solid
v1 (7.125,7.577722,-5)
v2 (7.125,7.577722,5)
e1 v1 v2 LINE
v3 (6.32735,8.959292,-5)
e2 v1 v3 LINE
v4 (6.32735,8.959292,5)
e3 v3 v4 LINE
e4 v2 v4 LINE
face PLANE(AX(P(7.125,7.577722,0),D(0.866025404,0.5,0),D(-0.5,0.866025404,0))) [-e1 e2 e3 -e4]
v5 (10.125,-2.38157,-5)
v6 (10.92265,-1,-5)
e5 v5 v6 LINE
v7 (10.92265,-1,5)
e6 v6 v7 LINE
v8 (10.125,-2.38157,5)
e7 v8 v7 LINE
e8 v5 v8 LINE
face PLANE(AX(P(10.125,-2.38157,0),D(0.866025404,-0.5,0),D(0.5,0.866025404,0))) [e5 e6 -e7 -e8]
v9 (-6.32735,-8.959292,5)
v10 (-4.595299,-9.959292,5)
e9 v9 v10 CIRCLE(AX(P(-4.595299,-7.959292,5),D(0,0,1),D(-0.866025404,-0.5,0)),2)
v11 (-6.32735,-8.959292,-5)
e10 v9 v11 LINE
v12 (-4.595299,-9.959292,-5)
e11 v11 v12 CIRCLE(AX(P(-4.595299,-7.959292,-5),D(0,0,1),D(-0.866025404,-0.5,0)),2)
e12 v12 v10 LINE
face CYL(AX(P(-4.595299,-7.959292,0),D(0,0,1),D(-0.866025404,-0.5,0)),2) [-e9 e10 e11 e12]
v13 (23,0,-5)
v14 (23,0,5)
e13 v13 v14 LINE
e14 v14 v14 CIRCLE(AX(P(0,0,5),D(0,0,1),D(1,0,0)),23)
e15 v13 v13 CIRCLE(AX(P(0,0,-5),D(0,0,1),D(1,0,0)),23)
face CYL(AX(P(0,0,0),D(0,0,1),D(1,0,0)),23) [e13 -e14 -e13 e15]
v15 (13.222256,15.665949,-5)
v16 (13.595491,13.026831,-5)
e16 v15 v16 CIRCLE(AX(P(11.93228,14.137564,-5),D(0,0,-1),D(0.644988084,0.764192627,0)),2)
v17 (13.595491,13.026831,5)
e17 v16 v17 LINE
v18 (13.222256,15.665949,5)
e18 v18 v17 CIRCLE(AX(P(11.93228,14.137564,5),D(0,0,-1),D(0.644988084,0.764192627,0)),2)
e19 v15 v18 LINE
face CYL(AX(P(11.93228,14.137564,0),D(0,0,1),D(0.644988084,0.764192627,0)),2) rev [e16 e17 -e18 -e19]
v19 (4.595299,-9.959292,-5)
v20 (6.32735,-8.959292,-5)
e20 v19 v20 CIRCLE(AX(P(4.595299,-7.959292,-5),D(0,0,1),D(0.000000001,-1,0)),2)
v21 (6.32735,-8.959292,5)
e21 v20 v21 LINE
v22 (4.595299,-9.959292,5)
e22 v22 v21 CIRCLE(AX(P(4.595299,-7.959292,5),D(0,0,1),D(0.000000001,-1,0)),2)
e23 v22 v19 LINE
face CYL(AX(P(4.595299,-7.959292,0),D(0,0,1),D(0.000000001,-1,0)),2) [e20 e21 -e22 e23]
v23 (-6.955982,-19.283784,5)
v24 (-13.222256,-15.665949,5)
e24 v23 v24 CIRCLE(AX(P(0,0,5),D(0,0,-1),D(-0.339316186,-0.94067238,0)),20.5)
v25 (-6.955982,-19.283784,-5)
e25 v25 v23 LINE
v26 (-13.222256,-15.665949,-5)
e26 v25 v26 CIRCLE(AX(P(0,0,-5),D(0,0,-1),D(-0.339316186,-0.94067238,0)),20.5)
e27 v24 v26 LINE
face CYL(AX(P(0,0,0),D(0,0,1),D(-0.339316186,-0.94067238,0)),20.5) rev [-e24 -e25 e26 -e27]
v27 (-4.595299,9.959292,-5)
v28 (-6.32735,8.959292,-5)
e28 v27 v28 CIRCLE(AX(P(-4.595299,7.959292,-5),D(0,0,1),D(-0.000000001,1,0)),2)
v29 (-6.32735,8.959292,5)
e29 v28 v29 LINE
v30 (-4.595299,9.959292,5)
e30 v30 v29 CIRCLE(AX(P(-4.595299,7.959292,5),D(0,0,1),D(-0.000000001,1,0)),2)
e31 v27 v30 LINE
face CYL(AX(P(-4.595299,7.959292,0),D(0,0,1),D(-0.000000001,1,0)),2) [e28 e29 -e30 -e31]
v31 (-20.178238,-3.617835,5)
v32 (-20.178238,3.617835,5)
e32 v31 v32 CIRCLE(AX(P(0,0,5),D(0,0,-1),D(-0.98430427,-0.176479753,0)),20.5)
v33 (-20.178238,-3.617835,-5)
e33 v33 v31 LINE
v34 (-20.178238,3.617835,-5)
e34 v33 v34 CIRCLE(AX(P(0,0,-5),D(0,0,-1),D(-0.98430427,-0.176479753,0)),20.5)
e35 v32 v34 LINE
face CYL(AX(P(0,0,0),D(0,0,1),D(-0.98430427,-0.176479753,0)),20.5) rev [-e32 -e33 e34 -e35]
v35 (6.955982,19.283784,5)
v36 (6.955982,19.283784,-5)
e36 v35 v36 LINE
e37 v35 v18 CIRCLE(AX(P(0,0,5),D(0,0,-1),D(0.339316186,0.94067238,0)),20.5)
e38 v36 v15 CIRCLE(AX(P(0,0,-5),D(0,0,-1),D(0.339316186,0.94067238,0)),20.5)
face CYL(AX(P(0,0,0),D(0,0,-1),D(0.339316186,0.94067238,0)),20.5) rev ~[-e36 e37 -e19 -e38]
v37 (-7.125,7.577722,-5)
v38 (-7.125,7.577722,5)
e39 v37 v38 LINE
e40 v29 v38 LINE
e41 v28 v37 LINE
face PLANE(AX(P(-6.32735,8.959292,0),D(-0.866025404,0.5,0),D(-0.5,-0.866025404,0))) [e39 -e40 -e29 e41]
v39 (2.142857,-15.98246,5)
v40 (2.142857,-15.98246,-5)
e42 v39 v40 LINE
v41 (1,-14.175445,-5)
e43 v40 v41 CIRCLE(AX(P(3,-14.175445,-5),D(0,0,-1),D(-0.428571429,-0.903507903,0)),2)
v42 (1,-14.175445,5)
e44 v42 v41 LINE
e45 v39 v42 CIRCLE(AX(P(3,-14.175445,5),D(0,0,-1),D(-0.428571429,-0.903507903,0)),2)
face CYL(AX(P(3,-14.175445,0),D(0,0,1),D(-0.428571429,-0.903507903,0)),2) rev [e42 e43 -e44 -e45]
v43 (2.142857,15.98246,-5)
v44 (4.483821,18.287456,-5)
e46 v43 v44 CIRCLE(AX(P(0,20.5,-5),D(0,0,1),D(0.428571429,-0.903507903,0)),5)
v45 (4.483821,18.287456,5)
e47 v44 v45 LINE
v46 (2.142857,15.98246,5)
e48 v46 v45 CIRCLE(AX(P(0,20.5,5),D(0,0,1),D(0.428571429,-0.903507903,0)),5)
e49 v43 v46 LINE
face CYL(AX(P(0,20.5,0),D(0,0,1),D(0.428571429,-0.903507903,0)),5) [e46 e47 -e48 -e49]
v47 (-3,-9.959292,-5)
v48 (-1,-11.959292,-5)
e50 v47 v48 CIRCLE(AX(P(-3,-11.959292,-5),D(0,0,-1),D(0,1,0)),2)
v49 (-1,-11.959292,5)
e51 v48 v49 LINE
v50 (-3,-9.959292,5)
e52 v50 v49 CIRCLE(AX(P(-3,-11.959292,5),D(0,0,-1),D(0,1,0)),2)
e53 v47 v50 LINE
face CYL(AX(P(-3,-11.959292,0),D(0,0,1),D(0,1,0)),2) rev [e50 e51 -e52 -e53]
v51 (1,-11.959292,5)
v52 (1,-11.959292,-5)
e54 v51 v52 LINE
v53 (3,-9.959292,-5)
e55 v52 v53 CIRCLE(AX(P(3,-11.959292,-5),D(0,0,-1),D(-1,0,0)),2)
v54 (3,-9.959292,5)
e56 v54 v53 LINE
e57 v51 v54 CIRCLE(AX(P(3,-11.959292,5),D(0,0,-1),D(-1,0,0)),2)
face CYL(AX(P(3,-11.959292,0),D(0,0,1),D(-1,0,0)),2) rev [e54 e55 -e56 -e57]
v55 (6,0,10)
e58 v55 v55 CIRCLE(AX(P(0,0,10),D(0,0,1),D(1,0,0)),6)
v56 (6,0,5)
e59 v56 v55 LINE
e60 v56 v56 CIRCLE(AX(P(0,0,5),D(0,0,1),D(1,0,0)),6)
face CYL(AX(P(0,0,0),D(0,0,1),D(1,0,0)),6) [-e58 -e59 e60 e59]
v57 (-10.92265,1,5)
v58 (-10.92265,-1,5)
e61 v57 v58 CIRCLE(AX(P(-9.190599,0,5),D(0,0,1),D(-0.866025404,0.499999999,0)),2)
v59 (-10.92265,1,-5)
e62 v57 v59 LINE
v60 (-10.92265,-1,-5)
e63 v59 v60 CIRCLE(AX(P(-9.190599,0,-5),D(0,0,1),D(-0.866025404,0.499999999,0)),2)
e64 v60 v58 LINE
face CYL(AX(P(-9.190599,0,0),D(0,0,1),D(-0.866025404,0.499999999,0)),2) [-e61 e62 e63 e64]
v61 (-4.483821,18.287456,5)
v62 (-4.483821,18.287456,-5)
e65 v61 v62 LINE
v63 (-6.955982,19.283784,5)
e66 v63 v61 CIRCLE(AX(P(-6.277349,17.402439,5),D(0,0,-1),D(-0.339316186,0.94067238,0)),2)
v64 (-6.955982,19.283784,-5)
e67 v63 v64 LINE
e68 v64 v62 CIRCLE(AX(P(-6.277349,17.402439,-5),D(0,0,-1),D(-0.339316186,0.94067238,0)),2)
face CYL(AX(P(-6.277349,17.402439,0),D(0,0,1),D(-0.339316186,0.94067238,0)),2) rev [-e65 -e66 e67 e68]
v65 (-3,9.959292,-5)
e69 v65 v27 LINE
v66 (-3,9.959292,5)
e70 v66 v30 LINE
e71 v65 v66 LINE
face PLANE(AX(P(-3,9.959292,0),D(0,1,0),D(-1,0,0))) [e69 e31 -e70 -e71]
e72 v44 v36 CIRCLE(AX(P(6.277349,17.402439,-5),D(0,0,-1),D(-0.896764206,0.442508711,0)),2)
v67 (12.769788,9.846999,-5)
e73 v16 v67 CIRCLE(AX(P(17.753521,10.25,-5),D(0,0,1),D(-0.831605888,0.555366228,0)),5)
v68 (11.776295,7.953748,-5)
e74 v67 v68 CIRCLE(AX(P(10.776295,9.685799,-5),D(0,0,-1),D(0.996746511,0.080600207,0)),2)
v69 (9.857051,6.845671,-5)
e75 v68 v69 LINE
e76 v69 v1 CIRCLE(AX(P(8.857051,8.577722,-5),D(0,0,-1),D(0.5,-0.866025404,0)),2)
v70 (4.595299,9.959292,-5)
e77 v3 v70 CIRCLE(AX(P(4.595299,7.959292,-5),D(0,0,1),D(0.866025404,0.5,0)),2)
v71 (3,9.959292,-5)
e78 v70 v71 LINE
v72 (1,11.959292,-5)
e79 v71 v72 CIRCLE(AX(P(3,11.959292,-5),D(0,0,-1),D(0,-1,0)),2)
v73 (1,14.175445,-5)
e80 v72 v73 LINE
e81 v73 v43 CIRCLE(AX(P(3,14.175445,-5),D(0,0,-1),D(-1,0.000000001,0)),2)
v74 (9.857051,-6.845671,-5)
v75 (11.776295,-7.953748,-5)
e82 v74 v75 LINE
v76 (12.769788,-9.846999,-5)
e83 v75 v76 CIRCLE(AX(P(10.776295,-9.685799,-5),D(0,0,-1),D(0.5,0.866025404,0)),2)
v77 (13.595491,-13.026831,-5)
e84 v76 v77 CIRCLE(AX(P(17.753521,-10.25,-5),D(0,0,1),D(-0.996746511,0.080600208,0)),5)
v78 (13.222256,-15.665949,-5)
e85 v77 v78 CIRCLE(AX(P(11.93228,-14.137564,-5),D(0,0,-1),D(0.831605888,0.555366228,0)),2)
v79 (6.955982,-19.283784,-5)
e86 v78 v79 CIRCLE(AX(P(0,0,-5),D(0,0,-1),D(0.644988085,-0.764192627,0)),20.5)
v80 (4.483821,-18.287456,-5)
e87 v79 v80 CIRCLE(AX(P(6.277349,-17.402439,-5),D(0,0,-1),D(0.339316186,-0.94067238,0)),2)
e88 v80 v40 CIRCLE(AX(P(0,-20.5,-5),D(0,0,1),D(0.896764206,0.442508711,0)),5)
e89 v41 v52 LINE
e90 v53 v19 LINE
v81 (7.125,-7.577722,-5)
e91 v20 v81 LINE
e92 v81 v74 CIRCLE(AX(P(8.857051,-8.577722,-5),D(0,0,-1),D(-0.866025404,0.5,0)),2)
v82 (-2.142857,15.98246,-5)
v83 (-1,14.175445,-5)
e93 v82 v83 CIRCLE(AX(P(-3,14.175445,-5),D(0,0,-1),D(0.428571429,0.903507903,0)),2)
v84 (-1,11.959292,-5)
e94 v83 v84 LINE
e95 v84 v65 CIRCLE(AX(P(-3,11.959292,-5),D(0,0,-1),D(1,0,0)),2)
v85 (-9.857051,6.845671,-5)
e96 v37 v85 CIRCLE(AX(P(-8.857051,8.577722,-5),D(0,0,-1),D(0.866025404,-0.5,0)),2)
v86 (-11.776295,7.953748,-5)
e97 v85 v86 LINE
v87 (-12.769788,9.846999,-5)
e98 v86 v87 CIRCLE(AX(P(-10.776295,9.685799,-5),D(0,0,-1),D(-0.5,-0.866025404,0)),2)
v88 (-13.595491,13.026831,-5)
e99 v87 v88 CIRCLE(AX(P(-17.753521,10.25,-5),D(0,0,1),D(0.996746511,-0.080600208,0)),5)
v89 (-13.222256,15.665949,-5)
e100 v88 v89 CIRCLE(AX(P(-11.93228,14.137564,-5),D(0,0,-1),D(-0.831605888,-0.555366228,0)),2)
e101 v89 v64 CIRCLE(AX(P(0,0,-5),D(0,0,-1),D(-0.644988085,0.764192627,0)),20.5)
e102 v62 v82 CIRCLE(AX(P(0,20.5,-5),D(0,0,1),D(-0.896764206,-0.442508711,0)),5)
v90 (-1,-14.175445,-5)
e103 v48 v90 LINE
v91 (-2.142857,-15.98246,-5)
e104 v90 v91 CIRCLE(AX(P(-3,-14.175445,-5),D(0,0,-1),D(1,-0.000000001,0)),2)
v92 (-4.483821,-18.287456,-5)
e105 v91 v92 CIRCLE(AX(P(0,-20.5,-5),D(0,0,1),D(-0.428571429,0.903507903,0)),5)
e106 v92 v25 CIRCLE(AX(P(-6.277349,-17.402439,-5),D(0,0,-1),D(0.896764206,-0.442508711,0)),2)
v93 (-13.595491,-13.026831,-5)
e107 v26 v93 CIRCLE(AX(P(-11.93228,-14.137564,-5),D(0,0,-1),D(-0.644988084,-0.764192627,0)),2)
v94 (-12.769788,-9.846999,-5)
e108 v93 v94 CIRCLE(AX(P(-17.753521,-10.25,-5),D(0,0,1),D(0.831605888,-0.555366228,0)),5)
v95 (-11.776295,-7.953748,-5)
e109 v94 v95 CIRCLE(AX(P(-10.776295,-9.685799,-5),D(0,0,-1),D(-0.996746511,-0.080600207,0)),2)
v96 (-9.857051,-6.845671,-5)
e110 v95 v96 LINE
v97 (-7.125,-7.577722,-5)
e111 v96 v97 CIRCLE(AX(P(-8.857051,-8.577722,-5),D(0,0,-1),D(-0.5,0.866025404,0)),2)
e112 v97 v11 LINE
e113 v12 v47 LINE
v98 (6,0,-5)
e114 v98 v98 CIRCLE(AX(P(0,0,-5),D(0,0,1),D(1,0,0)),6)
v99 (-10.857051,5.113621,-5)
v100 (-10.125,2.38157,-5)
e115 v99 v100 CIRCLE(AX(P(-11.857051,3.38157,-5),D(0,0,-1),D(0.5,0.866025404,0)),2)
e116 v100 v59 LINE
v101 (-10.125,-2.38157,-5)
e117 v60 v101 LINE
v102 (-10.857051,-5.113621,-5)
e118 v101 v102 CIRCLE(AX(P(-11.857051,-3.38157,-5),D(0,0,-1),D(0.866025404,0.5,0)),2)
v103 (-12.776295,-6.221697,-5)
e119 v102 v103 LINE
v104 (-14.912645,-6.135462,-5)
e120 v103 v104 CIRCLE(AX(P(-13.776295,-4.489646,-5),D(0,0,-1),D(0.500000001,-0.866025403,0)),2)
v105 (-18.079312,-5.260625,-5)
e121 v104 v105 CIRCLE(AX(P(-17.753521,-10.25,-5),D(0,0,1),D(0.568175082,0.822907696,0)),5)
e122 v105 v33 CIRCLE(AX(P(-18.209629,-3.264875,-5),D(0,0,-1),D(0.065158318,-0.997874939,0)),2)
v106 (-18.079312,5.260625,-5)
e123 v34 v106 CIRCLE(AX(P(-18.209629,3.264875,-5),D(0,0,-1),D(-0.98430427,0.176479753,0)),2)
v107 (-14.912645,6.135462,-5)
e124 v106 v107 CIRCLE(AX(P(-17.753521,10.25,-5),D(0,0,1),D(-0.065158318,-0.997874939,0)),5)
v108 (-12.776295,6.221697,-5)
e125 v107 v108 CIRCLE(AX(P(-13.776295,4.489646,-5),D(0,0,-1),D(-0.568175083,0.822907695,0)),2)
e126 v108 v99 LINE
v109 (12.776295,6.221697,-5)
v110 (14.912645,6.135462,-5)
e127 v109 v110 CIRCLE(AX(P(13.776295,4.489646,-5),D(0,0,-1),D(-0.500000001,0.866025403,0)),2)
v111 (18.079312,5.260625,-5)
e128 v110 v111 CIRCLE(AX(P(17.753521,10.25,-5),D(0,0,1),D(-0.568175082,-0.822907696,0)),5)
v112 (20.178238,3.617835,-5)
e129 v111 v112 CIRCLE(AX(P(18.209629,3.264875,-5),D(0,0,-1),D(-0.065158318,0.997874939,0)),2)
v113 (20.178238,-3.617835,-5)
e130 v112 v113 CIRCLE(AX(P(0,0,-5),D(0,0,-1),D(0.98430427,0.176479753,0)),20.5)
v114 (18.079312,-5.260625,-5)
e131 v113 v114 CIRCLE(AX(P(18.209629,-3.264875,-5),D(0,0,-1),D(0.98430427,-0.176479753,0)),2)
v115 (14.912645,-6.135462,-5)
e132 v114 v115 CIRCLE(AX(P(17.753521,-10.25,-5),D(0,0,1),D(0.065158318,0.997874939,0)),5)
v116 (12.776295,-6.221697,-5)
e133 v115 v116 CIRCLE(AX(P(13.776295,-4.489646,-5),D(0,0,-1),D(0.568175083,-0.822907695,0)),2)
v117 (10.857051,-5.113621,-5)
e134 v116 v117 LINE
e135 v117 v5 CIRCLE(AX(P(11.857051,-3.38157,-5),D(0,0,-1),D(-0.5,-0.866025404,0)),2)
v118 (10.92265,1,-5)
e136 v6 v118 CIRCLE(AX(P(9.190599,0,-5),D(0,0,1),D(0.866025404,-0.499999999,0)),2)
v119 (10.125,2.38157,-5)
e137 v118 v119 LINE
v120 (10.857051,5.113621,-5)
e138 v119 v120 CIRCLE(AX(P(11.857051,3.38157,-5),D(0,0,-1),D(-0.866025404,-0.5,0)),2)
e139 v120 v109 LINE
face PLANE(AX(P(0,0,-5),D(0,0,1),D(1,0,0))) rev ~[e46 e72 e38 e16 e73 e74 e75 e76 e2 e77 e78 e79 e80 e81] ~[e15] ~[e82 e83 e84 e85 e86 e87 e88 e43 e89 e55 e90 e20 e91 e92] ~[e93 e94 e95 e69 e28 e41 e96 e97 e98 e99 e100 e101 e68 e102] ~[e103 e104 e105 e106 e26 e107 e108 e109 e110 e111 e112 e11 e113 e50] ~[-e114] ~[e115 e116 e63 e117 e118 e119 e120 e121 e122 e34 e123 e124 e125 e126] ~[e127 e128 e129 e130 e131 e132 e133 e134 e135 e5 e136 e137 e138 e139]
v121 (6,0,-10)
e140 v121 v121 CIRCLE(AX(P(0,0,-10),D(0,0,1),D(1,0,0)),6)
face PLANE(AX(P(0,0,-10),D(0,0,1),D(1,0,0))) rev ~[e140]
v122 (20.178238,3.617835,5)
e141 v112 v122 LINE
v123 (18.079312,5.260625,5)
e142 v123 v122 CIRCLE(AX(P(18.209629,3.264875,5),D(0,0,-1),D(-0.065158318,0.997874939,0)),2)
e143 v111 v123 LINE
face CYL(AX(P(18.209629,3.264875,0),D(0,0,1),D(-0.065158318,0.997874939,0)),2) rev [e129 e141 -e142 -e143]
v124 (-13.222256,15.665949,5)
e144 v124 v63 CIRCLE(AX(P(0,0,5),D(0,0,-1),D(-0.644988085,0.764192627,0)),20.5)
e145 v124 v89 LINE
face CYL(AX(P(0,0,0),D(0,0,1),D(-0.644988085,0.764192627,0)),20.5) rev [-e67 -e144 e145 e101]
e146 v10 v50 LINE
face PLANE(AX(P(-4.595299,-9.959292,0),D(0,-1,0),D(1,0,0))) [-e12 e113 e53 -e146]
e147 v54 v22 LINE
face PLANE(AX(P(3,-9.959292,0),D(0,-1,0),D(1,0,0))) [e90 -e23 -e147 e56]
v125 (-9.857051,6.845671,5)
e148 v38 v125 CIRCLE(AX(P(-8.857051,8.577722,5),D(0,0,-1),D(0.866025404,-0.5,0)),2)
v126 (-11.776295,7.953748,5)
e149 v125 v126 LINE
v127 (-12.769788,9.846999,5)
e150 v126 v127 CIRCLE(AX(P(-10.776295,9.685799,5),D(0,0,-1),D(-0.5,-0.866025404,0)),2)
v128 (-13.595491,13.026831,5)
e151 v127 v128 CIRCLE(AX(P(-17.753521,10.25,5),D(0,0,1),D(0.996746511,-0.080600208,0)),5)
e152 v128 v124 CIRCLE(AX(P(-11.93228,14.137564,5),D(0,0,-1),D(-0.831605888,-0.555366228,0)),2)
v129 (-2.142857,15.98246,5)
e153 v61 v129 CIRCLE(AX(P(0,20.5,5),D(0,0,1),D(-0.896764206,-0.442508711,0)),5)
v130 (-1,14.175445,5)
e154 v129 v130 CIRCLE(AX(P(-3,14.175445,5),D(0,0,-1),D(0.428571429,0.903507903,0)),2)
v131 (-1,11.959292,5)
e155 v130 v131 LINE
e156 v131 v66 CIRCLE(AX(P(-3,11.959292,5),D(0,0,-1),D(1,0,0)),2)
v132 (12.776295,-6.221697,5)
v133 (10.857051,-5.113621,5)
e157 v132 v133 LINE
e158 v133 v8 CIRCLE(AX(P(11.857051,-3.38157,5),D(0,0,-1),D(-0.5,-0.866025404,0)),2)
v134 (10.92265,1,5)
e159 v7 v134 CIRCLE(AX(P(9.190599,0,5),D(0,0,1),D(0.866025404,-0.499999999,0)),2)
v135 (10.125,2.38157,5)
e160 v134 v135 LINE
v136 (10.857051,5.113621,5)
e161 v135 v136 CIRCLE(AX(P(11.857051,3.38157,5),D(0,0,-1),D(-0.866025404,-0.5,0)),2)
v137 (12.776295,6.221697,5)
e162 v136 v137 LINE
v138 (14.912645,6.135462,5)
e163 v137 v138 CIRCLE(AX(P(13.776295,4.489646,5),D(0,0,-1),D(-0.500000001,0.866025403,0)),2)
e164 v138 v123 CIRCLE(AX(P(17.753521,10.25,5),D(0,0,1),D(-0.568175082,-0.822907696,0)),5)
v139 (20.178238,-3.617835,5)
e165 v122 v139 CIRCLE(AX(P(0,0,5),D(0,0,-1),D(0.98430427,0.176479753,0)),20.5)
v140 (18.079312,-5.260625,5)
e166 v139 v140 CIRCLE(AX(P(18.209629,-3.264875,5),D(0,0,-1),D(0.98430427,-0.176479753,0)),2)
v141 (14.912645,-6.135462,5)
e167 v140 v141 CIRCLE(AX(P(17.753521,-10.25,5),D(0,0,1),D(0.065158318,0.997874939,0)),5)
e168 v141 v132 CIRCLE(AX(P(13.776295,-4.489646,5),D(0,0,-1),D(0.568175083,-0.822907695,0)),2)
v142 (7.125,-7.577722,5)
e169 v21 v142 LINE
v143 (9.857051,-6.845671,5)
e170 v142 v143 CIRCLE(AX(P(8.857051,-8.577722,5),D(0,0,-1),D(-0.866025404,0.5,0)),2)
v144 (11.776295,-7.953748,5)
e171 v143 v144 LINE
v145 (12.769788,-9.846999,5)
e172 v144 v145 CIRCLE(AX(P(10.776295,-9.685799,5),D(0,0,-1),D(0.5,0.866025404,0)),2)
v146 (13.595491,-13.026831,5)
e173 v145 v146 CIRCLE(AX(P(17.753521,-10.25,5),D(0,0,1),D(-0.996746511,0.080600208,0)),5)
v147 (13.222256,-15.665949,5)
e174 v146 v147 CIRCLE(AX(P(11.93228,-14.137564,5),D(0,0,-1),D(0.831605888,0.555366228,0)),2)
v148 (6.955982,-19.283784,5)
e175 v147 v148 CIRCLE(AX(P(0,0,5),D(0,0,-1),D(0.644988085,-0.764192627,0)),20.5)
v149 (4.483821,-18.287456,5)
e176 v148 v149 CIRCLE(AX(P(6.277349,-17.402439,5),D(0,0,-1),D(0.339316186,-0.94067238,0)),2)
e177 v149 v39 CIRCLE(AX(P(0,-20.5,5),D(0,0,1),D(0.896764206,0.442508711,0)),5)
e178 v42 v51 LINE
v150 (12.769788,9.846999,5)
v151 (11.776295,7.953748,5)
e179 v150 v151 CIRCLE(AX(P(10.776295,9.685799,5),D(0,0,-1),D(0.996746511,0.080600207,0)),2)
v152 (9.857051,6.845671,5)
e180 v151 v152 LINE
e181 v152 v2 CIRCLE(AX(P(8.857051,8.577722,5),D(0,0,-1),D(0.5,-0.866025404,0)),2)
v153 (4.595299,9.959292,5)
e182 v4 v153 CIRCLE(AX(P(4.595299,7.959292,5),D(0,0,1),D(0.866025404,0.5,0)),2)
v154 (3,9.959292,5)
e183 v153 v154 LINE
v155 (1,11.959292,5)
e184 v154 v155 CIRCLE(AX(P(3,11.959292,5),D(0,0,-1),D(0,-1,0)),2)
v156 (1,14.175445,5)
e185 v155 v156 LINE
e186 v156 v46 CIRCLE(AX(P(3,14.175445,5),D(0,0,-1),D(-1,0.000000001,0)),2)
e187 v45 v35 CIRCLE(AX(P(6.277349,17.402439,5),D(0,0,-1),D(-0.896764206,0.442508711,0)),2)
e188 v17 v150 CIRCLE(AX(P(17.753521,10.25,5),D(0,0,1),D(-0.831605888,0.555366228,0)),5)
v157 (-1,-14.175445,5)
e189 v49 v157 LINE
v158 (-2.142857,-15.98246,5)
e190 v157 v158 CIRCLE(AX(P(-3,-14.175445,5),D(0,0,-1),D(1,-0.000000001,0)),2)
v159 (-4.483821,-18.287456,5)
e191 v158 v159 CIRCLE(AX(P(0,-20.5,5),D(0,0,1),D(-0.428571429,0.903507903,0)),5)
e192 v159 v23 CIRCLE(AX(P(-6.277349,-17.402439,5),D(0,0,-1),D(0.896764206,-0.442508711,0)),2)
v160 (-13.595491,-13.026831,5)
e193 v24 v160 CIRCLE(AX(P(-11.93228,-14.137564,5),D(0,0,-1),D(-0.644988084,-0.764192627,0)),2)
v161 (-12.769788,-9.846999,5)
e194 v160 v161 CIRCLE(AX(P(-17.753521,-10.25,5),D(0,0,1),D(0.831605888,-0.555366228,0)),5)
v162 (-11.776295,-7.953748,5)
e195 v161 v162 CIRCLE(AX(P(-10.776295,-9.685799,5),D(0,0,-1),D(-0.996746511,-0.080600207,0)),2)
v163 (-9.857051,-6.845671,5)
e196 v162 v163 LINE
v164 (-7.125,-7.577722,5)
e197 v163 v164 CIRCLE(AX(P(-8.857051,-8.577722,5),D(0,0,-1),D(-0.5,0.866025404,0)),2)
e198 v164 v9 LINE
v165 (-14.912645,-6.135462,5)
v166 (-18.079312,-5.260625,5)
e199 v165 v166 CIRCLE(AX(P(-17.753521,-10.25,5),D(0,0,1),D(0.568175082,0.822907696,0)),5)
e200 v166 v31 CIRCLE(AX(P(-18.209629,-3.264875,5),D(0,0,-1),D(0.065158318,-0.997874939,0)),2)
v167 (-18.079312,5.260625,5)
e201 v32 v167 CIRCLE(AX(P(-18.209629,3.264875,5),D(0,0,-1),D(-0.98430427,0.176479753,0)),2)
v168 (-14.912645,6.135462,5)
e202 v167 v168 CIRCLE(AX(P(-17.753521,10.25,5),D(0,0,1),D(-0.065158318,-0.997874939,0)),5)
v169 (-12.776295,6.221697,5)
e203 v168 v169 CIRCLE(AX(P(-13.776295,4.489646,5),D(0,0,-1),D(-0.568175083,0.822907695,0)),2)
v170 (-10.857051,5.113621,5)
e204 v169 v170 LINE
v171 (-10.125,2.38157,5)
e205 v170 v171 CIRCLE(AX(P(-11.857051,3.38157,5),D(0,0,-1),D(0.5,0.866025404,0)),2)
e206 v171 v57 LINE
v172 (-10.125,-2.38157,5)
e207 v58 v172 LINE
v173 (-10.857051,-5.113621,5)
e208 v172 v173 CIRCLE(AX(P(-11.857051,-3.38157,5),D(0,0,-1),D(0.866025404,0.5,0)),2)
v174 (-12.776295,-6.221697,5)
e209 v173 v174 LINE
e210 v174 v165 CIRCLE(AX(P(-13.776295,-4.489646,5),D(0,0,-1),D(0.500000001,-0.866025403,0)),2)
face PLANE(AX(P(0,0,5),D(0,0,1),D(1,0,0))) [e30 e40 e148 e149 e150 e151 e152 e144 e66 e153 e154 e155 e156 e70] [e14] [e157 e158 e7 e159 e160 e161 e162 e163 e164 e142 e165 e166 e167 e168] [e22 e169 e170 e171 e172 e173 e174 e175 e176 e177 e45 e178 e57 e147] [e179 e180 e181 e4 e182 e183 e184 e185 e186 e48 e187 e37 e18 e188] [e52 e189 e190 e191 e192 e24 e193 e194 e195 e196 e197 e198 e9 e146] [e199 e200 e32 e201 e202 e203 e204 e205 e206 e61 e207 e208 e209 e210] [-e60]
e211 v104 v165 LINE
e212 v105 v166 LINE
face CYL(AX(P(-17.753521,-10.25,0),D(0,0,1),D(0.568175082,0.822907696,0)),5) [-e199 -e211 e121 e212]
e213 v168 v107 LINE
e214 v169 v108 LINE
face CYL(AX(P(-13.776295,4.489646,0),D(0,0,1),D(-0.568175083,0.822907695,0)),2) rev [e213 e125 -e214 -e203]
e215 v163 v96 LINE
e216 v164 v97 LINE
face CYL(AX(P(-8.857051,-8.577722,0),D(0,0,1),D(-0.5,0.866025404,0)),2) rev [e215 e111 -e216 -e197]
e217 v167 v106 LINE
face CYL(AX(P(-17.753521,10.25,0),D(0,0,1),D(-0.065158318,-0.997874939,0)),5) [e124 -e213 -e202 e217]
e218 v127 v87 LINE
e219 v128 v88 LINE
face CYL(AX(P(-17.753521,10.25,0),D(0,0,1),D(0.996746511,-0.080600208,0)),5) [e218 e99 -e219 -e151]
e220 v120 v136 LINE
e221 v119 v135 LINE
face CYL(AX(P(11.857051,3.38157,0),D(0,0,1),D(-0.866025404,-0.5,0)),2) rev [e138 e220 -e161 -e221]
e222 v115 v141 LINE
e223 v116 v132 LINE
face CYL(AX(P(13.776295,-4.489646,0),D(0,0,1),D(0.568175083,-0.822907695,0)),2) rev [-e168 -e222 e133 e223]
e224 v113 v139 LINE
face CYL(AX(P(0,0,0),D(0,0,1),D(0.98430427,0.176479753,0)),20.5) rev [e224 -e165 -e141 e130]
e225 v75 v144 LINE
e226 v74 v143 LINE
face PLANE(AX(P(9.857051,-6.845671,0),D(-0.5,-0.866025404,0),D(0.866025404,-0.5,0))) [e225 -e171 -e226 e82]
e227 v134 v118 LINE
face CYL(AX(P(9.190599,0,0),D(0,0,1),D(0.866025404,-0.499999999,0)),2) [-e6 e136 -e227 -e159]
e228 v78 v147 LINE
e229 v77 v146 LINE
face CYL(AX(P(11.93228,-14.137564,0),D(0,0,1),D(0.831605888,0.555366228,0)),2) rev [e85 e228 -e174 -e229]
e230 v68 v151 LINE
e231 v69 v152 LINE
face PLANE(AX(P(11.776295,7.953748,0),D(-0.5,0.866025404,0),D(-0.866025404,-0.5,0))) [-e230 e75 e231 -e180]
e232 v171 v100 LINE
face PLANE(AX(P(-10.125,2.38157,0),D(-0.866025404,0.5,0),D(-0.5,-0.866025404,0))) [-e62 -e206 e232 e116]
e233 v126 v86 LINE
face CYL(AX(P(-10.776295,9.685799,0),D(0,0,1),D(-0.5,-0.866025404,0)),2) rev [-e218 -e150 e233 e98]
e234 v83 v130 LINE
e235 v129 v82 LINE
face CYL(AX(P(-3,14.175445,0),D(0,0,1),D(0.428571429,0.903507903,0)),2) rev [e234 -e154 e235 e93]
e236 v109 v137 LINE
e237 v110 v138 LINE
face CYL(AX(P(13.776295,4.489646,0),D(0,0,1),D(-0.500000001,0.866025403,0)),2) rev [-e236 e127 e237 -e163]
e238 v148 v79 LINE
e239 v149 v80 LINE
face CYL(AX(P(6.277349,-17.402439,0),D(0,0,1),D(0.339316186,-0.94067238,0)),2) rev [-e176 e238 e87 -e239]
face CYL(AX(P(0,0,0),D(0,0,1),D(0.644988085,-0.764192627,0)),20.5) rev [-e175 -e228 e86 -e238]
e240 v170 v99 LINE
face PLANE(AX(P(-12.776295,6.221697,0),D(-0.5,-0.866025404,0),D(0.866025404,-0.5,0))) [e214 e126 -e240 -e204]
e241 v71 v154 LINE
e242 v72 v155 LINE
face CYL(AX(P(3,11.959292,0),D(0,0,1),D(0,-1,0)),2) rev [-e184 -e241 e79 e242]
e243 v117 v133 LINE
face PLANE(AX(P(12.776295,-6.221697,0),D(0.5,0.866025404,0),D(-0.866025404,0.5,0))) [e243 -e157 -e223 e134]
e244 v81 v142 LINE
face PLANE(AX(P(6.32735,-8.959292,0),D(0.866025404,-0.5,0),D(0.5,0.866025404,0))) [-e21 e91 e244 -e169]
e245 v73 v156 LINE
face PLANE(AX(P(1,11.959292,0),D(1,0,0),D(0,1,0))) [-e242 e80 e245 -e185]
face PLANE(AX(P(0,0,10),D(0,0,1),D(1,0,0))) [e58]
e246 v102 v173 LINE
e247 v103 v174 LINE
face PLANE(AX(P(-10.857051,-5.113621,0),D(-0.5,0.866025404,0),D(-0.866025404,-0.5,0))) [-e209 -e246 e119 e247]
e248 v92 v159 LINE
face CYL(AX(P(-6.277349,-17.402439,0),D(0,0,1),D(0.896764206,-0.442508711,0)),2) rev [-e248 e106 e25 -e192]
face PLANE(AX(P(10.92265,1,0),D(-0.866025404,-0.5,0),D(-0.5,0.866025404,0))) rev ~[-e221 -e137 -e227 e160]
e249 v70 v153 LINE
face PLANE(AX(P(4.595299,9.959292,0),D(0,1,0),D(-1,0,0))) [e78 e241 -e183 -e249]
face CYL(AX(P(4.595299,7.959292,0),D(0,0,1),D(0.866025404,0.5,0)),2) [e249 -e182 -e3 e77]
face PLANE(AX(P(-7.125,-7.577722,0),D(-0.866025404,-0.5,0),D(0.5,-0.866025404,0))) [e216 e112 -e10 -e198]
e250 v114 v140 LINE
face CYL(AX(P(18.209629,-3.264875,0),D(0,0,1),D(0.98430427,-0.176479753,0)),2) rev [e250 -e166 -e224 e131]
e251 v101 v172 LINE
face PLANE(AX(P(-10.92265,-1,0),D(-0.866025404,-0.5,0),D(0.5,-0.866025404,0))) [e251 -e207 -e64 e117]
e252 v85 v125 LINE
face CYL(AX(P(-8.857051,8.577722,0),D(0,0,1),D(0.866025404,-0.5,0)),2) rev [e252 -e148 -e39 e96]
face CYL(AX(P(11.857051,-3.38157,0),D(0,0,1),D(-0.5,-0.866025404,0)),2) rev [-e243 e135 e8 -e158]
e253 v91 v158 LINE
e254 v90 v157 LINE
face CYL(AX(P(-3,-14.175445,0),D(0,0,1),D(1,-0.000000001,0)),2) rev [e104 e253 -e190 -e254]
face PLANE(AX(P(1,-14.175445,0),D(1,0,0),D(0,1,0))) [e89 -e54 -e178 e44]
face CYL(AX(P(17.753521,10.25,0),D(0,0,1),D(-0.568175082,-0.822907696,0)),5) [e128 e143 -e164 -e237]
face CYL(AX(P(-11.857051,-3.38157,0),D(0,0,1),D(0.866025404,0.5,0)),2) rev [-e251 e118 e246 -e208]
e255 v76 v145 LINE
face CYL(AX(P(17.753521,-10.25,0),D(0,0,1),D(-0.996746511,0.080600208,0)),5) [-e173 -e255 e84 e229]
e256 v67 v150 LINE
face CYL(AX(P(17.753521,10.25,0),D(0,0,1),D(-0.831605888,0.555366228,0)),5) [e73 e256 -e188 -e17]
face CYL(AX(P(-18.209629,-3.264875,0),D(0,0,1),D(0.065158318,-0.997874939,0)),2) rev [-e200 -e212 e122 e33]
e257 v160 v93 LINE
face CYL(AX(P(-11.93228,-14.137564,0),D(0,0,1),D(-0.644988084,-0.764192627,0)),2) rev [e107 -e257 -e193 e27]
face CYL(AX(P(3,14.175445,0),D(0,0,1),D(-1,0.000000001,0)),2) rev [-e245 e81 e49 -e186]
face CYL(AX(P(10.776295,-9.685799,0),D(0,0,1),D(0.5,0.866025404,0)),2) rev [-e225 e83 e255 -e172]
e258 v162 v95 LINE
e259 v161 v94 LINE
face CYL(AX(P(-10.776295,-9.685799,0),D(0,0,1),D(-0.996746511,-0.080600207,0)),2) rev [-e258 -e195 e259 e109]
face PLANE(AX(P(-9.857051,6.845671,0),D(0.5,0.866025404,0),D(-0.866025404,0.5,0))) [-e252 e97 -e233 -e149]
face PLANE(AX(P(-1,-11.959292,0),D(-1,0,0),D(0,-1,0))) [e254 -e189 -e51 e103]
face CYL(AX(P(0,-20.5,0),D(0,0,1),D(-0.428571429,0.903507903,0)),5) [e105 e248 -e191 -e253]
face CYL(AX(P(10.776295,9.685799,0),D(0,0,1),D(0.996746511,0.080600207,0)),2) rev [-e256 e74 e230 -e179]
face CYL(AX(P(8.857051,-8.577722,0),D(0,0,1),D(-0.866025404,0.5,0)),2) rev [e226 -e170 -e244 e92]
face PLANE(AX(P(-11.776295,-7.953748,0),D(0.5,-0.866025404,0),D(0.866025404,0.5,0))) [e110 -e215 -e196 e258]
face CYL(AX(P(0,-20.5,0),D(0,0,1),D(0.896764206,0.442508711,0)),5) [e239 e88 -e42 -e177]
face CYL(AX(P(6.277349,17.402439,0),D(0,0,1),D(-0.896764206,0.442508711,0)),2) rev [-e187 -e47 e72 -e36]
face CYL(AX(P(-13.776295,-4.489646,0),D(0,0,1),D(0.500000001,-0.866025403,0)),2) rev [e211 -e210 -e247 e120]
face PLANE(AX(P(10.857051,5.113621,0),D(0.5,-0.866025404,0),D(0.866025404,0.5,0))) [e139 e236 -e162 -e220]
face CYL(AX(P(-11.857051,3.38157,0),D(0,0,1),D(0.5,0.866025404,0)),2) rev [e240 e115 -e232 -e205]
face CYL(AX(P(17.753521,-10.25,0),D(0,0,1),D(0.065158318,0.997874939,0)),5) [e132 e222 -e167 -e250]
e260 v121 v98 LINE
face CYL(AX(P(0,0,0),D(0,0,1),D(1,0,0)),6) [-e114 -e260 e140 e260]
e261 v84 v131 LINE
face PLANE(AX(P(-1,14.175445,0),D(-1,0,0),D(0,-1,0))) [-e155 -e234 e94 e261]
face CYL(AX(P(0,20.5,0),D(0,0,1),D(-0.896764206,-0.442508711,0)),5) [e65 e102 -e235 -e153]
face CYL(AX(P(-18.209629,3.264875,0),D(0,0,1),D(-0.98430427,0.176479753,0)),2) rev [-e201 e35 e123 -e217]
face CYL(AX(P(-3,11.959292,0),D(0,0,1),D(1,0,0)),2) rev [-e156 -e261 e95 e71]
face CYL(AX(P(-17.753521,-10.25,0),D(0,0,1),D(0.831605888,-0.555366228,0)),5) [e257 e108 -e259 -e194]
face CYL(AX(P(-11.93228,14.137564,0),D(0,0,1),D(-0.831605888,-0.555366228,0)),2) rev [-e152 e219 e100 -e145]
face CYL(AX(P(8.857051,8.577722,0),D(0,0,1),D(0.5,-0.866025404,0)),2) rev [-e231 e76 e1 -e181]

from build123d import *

# Parameters (mm, degrees)
SKETCH1_R           = 6
BOSS_EXTRUDE1_DEPTH = 10
SKETCH1_7_R         = 23
SKETCH1_7_R_2       = 6
BOSS_EXTRUDE3_DEPTH = 5


with BuildPart() as part:
    # Sketch1 → Boss-Extrude1 (new, symmetric)
    with BuildSketch(Plane.XY):
        Circle(SKETCH1_R)
    extrude(amount=BOSS_EXTRUDE1_DEPTH, both=True)

    # Sketch1<7> → Boss-Extrude3 (add, symmetric)
    with BuildSketch(Plane.XY):
        Circle(SKETCH1_7_R)
        Circle(SKETCH1_7_R_2, mode=Mode.SUBTRACT)
        with BuildLine():
            Line((-1, 14.17544468), (-1, 11.959292144))
            ThreePointArc((-1, 11.959292144), (-1.585786438, 10.545078581), (-3, 9.959292144))
            Line((-3, 9.959292144), (-4.595299462, 9.959292144))
            ThreePointArc((-4.595299462, 9.959292144), (-5.595299462, 9.691342951), (-6.327350269, 8.959292144))
            Line((-6.327350269, 8.959292144), (-7.125, 7.577722283))
            ThreePointArc((-7.125, 7.577722283), (-8.339412717, 6.645870631), (-9.857050808, 6.845671476))
            Line((-9.857050808, 6.845671476), (-11.776295203, 7.953747744))
            ThreePointArc((-11.776295203, 7.953747744), (-12.547269557, 8.756470926), (-12.769788224, 9.846998965))
            ThreePointArc((-12.769788224, 9.846998965), (-12.914018091, 11.506667717), (-13.595491338, 13.02683114))
            ThreePointArc((-13.595491338, 13.02683114), (-13.912573816, 14.417625499), (-13.222255731, 15.66594885))
            ThreePointArc((-13.222255731, 15.66594885), (-10.25, 17.753520778), (-6.955981813, 19.283783784))
            ThreePointArc((-6.955981813, 19.283783784), (-5.529743036, 19.257455106), (-4.483821029, 18.287456446))
            ThreePointArc((-4.483821029, 18.287456446), (-3.50805751, 16.937201591), (-2.142857143, 15.982460485))
            ThreePointArc((-2.142857143, 15.982460485), (-1.309691491, 15.244489647), (-1, 14.17544468))
        make_face(mode=Mode.SUBTRACT)
        with BuildLine():
            Line((4.595299462, 9.959292144), (3, 9.959292144))
            ThreePointArc((3, 9.959292144), (1.585786438, 10.545078581), (1, 11.959292144))
            Line((1, 11.959292144), (1, 14.17544468))
            ThreePointArc((1, 14.17544468), (1.309691491, 15.244489647), (2.142857143, 15.982460485))
            ThreePointArc((2.142857143, 15.982460485), (3.50805751, 16.937201591), (4.483821029, 18.287456446))
            ThreePointArc((4.483821029, 18.287456446), (5.529743036, 19.257455106), (6.955981813, 19.283783784))
            ThreePointArc((6.955981813, 19.283783784), (10.25, 17.753520778), (13.222255731, 15.66594885))
            ThreePointArc((13.222255731, 15.66594885), (13.912573816, 14.417625499), (13.595491338, 13.02683114))
            ThreePointArc((13.595491338, 13.02683114), (12.914018091, 11.506667717), (12.769788224, 9.846998965))
            ThreePointArc((12.769788224, 9.846998965), (12.547269557, 8.756470926), (11.776295203, 7.953747744))
            Line((11.776295203, 7.953747744), (9.857050808, 6.845671476))
            ThreePointArc((9.857050808, 6.845671476), (8.339412717, 6.645870631), (7.125, 7.577722283))
            Line((7.125, 7.577722283), (6.327350269, 8.959292144))
            ThreePointArc((6.327350269, 8.959292144), (5.595299462, 9.691342951), (4.595299462, 9.959292144))
        make_face(mode=Mode.SUBTRACT)
        with BuildLine():
            Line((-10.922649731, -1), (-10.125, -2.38156986))
            ThreePointArc((-10.125, -2.38156986), (-9.925199155, -3.899207951), (-10.857050808, -5.113620668))
            Line((-10.857050808, -5.113620668), (-12.776295203, -6.221696936))
            ThreePointArc((-12.776295203, -6.221696936), (-13.856961048, -6.488018722), (-14.912645367, -6.13546152))
            ThreePointArc((-14.912645367, -6.13546152), (-16.422075601, -5.430533874), (-18.079312367, -5.260625306))
            ThreePointArc((-18.079312367, -5.260625306), (-19.442316853, -4.839829607), (-20.178237544, -3.617834934))
            ThreePointArc((-20.178237544, -3.617834934), (-20.5, 0), (-20.178237544, 3.617834934))
            ThreePointArc((-20.178237544, 3.617834934), (-19.442316853, 4.839829607), (-18.079312367, 5.260625306))
            ThreePointArc((-18.079312367, 5.260625306), (-16.422075601, 5.430533874), (-14.912645367, 6.13546152))
            ThreePointArc((-14.912645367, 6.13546152), (-13.856961048, 6.488018722), (-12.776295203, 6.221696936))
            Line((-12.776295203, 6.221696936), (-10.857050808, 5.113620668))
            ThreePointArc((-10.857050808, 5.113620668), (-9.925199155, 3.899207951), (-10.125, 2.38156986))
            Line((-10.125, 2.38156986), (-10.922649731, 1))
            ThreePointArc((-10.922649731, 1), (-11.190598923, 0), (-10.922649731, -1))
        make_face(mode=Mode.SUBTRACT)
        with BuildLine():
            Line((-4.595299462, -9.959292144), (-3, -9.959292144))
            ThreePointArc((-3, -9.959292144), (-1.585786438, -10.545078581), (-1, -11.959292144))
            Line((-1, -11.959292144), (-1, -14.17544468))
            ThreePointArc((-1, -14.17544468), (-1.309691491, -15.244489647), (-2.142857143, -15.982460485))
            ThreePointArc((-2.142857143, -15.982460485), (-3.50805751, -16.937201591), (-4.483821029, -18.287456446))
            ThreePointArc((-4.483821029, -18.287456446), (-5.529743036, -19.257455106), (-6.955981813, -19.283783784))
            ThreePointArc((-6.955981813, -19.283783784), (-10.25, -17.753520778), (-13.222255731, -15.66594885))
            ThreePointArc((-13.222255731, -15.66594885), (-13.912573816, -14.417625499), (-13.595491338, -13.02683114))
            ThreePointArc((-13.595491338, -13.02683114), (-12.914018091, -11.506667717), (-12.769788224, -9.846998965))
            ThreePointArc((-12.769788224, -9.846998965), (-12.547269557, -8.756470926), (-11.776295203, -7.953747744))
            Line((-11.776295203, -7.953747744), (-9.857050808, -6.845671476))
            ThreePointArc((-9.857050808, -6.845671476), (-8.339412717, -6.645870631), (-7.125, -7.577722283))
            Line((-7.125, -7.577722283), (-6.327350269, -8.959292144))
            ThreePointArc((-6.327350269, -8.959292144), (-5.595299462, -9.691342951), (-4.595299462, -9.959292144))
        make_face(mode=Mode.SUBTRACT)
        with BuildLine():
            Line((6.327350269, -8.959292144), (7.125, -7.577722283))
            ThreePointArc((7.125, -7.577722283), (8.339412717, -6.645870631), (9.857050808, -6.845671476))
            Line((9.857050808, -6.845671476), (11.776295203, -7.953747744))
            ThreePointArc((11.776295203, -7.953747744), (12.547269557, -8.756470926), (12.769788224, -9.846998965))
            ThreePointArc((12.769788224, -9.846998965), (12.914018091, -11.506667717), (13.595491338, -13.02683114))
            ThreePointArc((13.595491338, -13.02683114), (13.912573816, -14.417625499), (13.222255731, -15.66594885))
            ThreePointArc((13.222255731, -15.66594885), (10.25, -17.753520778), (6.955981813, -19.283783784))
            ThreePointArc((6.955981813, -19.283783784), (5.529743036, -19.257455106), (4.483821029, -18.287456446))
            ThreePointArc((4.483821029, -18.287456446), (3.50805751, -16.937201591), (2.142857143, -15.982460485))
            ThreePointArc((2.142857143, -15.982460485), (1.309691491, -15.244489647), (1, -14.17544468))
            Line((1, -14.17544468), (1, -11.959292144))
            ThreePointArc((1, -11.959292144), (1.585786438, -10.545078581), (3, -9.959292144))
            Line((3, -9.959292144), (4.595299462, -9.959292144))
            ThreePointArc((4.595299462, -9.959292144), (5.595299462, -9.691342951), (6.327350269, -8.959292144))
        make_face(mode=Mode.SUBTRACT)
        with BuildLine():
            Line((10.922649731, 1), (10.125, 2.38156986))
            ThreePointArc((10.125, 2.38156986), (9.925199155, 3.899207951), (10.857050808, 5.113620668))
            Line((10.857050808, 5.113620668), (12.776295203, 6.221696936))
            ThreePointArc((12.776295203, 6.221696936), (13.856961048, 6.488018722), (14.912645367, 6.13546152))
            ThreePointArc((14.912645367, 6.13546152), (16.422075601, 5.430533874), (18.079312367, 5.260625306))
            ThreePointArc((18.079312367, 5.260625306), (19.442316853, 4.839829607), (20.178237544, 3.617834934))
            ThreePointArc((20.178237544, 3.617834934), (20.5, 0), (20.178237544, -3.617834934))
            ThreePointArc((20.178237544, -3.617834934), (19.442316853, -4.839829607), (18.079312367, -5.260625306))
            ThreePointArc((18.079312367, -5.260625306), (16.422075601, -5.430533874), (14.912645367, -6.13546152))
            ThreePointArc((14.912645367, -6.13546152), (13.856961048, -6.488018722), (12.776295203, -6.221696936))
            Line((12.776295203, -6.221696936), (10.857050808, -5.113620668))
            ThreePointArc((10.857050808, -5.113620668), (9.925199155, -3.899207951), (10.125, -2.38156986))
            Line((10.125, -2.38156986), (10.922649731, -1))
            ThreePointArc((10.922649731, -1), (11.190598923, 0), (10.922649731, 1))
        make_face(mode=Mode.SUBTRACT)
    extrude(amount=BOSS_EXTRUDE3_DEPTH, both=True)


solid = part.part
